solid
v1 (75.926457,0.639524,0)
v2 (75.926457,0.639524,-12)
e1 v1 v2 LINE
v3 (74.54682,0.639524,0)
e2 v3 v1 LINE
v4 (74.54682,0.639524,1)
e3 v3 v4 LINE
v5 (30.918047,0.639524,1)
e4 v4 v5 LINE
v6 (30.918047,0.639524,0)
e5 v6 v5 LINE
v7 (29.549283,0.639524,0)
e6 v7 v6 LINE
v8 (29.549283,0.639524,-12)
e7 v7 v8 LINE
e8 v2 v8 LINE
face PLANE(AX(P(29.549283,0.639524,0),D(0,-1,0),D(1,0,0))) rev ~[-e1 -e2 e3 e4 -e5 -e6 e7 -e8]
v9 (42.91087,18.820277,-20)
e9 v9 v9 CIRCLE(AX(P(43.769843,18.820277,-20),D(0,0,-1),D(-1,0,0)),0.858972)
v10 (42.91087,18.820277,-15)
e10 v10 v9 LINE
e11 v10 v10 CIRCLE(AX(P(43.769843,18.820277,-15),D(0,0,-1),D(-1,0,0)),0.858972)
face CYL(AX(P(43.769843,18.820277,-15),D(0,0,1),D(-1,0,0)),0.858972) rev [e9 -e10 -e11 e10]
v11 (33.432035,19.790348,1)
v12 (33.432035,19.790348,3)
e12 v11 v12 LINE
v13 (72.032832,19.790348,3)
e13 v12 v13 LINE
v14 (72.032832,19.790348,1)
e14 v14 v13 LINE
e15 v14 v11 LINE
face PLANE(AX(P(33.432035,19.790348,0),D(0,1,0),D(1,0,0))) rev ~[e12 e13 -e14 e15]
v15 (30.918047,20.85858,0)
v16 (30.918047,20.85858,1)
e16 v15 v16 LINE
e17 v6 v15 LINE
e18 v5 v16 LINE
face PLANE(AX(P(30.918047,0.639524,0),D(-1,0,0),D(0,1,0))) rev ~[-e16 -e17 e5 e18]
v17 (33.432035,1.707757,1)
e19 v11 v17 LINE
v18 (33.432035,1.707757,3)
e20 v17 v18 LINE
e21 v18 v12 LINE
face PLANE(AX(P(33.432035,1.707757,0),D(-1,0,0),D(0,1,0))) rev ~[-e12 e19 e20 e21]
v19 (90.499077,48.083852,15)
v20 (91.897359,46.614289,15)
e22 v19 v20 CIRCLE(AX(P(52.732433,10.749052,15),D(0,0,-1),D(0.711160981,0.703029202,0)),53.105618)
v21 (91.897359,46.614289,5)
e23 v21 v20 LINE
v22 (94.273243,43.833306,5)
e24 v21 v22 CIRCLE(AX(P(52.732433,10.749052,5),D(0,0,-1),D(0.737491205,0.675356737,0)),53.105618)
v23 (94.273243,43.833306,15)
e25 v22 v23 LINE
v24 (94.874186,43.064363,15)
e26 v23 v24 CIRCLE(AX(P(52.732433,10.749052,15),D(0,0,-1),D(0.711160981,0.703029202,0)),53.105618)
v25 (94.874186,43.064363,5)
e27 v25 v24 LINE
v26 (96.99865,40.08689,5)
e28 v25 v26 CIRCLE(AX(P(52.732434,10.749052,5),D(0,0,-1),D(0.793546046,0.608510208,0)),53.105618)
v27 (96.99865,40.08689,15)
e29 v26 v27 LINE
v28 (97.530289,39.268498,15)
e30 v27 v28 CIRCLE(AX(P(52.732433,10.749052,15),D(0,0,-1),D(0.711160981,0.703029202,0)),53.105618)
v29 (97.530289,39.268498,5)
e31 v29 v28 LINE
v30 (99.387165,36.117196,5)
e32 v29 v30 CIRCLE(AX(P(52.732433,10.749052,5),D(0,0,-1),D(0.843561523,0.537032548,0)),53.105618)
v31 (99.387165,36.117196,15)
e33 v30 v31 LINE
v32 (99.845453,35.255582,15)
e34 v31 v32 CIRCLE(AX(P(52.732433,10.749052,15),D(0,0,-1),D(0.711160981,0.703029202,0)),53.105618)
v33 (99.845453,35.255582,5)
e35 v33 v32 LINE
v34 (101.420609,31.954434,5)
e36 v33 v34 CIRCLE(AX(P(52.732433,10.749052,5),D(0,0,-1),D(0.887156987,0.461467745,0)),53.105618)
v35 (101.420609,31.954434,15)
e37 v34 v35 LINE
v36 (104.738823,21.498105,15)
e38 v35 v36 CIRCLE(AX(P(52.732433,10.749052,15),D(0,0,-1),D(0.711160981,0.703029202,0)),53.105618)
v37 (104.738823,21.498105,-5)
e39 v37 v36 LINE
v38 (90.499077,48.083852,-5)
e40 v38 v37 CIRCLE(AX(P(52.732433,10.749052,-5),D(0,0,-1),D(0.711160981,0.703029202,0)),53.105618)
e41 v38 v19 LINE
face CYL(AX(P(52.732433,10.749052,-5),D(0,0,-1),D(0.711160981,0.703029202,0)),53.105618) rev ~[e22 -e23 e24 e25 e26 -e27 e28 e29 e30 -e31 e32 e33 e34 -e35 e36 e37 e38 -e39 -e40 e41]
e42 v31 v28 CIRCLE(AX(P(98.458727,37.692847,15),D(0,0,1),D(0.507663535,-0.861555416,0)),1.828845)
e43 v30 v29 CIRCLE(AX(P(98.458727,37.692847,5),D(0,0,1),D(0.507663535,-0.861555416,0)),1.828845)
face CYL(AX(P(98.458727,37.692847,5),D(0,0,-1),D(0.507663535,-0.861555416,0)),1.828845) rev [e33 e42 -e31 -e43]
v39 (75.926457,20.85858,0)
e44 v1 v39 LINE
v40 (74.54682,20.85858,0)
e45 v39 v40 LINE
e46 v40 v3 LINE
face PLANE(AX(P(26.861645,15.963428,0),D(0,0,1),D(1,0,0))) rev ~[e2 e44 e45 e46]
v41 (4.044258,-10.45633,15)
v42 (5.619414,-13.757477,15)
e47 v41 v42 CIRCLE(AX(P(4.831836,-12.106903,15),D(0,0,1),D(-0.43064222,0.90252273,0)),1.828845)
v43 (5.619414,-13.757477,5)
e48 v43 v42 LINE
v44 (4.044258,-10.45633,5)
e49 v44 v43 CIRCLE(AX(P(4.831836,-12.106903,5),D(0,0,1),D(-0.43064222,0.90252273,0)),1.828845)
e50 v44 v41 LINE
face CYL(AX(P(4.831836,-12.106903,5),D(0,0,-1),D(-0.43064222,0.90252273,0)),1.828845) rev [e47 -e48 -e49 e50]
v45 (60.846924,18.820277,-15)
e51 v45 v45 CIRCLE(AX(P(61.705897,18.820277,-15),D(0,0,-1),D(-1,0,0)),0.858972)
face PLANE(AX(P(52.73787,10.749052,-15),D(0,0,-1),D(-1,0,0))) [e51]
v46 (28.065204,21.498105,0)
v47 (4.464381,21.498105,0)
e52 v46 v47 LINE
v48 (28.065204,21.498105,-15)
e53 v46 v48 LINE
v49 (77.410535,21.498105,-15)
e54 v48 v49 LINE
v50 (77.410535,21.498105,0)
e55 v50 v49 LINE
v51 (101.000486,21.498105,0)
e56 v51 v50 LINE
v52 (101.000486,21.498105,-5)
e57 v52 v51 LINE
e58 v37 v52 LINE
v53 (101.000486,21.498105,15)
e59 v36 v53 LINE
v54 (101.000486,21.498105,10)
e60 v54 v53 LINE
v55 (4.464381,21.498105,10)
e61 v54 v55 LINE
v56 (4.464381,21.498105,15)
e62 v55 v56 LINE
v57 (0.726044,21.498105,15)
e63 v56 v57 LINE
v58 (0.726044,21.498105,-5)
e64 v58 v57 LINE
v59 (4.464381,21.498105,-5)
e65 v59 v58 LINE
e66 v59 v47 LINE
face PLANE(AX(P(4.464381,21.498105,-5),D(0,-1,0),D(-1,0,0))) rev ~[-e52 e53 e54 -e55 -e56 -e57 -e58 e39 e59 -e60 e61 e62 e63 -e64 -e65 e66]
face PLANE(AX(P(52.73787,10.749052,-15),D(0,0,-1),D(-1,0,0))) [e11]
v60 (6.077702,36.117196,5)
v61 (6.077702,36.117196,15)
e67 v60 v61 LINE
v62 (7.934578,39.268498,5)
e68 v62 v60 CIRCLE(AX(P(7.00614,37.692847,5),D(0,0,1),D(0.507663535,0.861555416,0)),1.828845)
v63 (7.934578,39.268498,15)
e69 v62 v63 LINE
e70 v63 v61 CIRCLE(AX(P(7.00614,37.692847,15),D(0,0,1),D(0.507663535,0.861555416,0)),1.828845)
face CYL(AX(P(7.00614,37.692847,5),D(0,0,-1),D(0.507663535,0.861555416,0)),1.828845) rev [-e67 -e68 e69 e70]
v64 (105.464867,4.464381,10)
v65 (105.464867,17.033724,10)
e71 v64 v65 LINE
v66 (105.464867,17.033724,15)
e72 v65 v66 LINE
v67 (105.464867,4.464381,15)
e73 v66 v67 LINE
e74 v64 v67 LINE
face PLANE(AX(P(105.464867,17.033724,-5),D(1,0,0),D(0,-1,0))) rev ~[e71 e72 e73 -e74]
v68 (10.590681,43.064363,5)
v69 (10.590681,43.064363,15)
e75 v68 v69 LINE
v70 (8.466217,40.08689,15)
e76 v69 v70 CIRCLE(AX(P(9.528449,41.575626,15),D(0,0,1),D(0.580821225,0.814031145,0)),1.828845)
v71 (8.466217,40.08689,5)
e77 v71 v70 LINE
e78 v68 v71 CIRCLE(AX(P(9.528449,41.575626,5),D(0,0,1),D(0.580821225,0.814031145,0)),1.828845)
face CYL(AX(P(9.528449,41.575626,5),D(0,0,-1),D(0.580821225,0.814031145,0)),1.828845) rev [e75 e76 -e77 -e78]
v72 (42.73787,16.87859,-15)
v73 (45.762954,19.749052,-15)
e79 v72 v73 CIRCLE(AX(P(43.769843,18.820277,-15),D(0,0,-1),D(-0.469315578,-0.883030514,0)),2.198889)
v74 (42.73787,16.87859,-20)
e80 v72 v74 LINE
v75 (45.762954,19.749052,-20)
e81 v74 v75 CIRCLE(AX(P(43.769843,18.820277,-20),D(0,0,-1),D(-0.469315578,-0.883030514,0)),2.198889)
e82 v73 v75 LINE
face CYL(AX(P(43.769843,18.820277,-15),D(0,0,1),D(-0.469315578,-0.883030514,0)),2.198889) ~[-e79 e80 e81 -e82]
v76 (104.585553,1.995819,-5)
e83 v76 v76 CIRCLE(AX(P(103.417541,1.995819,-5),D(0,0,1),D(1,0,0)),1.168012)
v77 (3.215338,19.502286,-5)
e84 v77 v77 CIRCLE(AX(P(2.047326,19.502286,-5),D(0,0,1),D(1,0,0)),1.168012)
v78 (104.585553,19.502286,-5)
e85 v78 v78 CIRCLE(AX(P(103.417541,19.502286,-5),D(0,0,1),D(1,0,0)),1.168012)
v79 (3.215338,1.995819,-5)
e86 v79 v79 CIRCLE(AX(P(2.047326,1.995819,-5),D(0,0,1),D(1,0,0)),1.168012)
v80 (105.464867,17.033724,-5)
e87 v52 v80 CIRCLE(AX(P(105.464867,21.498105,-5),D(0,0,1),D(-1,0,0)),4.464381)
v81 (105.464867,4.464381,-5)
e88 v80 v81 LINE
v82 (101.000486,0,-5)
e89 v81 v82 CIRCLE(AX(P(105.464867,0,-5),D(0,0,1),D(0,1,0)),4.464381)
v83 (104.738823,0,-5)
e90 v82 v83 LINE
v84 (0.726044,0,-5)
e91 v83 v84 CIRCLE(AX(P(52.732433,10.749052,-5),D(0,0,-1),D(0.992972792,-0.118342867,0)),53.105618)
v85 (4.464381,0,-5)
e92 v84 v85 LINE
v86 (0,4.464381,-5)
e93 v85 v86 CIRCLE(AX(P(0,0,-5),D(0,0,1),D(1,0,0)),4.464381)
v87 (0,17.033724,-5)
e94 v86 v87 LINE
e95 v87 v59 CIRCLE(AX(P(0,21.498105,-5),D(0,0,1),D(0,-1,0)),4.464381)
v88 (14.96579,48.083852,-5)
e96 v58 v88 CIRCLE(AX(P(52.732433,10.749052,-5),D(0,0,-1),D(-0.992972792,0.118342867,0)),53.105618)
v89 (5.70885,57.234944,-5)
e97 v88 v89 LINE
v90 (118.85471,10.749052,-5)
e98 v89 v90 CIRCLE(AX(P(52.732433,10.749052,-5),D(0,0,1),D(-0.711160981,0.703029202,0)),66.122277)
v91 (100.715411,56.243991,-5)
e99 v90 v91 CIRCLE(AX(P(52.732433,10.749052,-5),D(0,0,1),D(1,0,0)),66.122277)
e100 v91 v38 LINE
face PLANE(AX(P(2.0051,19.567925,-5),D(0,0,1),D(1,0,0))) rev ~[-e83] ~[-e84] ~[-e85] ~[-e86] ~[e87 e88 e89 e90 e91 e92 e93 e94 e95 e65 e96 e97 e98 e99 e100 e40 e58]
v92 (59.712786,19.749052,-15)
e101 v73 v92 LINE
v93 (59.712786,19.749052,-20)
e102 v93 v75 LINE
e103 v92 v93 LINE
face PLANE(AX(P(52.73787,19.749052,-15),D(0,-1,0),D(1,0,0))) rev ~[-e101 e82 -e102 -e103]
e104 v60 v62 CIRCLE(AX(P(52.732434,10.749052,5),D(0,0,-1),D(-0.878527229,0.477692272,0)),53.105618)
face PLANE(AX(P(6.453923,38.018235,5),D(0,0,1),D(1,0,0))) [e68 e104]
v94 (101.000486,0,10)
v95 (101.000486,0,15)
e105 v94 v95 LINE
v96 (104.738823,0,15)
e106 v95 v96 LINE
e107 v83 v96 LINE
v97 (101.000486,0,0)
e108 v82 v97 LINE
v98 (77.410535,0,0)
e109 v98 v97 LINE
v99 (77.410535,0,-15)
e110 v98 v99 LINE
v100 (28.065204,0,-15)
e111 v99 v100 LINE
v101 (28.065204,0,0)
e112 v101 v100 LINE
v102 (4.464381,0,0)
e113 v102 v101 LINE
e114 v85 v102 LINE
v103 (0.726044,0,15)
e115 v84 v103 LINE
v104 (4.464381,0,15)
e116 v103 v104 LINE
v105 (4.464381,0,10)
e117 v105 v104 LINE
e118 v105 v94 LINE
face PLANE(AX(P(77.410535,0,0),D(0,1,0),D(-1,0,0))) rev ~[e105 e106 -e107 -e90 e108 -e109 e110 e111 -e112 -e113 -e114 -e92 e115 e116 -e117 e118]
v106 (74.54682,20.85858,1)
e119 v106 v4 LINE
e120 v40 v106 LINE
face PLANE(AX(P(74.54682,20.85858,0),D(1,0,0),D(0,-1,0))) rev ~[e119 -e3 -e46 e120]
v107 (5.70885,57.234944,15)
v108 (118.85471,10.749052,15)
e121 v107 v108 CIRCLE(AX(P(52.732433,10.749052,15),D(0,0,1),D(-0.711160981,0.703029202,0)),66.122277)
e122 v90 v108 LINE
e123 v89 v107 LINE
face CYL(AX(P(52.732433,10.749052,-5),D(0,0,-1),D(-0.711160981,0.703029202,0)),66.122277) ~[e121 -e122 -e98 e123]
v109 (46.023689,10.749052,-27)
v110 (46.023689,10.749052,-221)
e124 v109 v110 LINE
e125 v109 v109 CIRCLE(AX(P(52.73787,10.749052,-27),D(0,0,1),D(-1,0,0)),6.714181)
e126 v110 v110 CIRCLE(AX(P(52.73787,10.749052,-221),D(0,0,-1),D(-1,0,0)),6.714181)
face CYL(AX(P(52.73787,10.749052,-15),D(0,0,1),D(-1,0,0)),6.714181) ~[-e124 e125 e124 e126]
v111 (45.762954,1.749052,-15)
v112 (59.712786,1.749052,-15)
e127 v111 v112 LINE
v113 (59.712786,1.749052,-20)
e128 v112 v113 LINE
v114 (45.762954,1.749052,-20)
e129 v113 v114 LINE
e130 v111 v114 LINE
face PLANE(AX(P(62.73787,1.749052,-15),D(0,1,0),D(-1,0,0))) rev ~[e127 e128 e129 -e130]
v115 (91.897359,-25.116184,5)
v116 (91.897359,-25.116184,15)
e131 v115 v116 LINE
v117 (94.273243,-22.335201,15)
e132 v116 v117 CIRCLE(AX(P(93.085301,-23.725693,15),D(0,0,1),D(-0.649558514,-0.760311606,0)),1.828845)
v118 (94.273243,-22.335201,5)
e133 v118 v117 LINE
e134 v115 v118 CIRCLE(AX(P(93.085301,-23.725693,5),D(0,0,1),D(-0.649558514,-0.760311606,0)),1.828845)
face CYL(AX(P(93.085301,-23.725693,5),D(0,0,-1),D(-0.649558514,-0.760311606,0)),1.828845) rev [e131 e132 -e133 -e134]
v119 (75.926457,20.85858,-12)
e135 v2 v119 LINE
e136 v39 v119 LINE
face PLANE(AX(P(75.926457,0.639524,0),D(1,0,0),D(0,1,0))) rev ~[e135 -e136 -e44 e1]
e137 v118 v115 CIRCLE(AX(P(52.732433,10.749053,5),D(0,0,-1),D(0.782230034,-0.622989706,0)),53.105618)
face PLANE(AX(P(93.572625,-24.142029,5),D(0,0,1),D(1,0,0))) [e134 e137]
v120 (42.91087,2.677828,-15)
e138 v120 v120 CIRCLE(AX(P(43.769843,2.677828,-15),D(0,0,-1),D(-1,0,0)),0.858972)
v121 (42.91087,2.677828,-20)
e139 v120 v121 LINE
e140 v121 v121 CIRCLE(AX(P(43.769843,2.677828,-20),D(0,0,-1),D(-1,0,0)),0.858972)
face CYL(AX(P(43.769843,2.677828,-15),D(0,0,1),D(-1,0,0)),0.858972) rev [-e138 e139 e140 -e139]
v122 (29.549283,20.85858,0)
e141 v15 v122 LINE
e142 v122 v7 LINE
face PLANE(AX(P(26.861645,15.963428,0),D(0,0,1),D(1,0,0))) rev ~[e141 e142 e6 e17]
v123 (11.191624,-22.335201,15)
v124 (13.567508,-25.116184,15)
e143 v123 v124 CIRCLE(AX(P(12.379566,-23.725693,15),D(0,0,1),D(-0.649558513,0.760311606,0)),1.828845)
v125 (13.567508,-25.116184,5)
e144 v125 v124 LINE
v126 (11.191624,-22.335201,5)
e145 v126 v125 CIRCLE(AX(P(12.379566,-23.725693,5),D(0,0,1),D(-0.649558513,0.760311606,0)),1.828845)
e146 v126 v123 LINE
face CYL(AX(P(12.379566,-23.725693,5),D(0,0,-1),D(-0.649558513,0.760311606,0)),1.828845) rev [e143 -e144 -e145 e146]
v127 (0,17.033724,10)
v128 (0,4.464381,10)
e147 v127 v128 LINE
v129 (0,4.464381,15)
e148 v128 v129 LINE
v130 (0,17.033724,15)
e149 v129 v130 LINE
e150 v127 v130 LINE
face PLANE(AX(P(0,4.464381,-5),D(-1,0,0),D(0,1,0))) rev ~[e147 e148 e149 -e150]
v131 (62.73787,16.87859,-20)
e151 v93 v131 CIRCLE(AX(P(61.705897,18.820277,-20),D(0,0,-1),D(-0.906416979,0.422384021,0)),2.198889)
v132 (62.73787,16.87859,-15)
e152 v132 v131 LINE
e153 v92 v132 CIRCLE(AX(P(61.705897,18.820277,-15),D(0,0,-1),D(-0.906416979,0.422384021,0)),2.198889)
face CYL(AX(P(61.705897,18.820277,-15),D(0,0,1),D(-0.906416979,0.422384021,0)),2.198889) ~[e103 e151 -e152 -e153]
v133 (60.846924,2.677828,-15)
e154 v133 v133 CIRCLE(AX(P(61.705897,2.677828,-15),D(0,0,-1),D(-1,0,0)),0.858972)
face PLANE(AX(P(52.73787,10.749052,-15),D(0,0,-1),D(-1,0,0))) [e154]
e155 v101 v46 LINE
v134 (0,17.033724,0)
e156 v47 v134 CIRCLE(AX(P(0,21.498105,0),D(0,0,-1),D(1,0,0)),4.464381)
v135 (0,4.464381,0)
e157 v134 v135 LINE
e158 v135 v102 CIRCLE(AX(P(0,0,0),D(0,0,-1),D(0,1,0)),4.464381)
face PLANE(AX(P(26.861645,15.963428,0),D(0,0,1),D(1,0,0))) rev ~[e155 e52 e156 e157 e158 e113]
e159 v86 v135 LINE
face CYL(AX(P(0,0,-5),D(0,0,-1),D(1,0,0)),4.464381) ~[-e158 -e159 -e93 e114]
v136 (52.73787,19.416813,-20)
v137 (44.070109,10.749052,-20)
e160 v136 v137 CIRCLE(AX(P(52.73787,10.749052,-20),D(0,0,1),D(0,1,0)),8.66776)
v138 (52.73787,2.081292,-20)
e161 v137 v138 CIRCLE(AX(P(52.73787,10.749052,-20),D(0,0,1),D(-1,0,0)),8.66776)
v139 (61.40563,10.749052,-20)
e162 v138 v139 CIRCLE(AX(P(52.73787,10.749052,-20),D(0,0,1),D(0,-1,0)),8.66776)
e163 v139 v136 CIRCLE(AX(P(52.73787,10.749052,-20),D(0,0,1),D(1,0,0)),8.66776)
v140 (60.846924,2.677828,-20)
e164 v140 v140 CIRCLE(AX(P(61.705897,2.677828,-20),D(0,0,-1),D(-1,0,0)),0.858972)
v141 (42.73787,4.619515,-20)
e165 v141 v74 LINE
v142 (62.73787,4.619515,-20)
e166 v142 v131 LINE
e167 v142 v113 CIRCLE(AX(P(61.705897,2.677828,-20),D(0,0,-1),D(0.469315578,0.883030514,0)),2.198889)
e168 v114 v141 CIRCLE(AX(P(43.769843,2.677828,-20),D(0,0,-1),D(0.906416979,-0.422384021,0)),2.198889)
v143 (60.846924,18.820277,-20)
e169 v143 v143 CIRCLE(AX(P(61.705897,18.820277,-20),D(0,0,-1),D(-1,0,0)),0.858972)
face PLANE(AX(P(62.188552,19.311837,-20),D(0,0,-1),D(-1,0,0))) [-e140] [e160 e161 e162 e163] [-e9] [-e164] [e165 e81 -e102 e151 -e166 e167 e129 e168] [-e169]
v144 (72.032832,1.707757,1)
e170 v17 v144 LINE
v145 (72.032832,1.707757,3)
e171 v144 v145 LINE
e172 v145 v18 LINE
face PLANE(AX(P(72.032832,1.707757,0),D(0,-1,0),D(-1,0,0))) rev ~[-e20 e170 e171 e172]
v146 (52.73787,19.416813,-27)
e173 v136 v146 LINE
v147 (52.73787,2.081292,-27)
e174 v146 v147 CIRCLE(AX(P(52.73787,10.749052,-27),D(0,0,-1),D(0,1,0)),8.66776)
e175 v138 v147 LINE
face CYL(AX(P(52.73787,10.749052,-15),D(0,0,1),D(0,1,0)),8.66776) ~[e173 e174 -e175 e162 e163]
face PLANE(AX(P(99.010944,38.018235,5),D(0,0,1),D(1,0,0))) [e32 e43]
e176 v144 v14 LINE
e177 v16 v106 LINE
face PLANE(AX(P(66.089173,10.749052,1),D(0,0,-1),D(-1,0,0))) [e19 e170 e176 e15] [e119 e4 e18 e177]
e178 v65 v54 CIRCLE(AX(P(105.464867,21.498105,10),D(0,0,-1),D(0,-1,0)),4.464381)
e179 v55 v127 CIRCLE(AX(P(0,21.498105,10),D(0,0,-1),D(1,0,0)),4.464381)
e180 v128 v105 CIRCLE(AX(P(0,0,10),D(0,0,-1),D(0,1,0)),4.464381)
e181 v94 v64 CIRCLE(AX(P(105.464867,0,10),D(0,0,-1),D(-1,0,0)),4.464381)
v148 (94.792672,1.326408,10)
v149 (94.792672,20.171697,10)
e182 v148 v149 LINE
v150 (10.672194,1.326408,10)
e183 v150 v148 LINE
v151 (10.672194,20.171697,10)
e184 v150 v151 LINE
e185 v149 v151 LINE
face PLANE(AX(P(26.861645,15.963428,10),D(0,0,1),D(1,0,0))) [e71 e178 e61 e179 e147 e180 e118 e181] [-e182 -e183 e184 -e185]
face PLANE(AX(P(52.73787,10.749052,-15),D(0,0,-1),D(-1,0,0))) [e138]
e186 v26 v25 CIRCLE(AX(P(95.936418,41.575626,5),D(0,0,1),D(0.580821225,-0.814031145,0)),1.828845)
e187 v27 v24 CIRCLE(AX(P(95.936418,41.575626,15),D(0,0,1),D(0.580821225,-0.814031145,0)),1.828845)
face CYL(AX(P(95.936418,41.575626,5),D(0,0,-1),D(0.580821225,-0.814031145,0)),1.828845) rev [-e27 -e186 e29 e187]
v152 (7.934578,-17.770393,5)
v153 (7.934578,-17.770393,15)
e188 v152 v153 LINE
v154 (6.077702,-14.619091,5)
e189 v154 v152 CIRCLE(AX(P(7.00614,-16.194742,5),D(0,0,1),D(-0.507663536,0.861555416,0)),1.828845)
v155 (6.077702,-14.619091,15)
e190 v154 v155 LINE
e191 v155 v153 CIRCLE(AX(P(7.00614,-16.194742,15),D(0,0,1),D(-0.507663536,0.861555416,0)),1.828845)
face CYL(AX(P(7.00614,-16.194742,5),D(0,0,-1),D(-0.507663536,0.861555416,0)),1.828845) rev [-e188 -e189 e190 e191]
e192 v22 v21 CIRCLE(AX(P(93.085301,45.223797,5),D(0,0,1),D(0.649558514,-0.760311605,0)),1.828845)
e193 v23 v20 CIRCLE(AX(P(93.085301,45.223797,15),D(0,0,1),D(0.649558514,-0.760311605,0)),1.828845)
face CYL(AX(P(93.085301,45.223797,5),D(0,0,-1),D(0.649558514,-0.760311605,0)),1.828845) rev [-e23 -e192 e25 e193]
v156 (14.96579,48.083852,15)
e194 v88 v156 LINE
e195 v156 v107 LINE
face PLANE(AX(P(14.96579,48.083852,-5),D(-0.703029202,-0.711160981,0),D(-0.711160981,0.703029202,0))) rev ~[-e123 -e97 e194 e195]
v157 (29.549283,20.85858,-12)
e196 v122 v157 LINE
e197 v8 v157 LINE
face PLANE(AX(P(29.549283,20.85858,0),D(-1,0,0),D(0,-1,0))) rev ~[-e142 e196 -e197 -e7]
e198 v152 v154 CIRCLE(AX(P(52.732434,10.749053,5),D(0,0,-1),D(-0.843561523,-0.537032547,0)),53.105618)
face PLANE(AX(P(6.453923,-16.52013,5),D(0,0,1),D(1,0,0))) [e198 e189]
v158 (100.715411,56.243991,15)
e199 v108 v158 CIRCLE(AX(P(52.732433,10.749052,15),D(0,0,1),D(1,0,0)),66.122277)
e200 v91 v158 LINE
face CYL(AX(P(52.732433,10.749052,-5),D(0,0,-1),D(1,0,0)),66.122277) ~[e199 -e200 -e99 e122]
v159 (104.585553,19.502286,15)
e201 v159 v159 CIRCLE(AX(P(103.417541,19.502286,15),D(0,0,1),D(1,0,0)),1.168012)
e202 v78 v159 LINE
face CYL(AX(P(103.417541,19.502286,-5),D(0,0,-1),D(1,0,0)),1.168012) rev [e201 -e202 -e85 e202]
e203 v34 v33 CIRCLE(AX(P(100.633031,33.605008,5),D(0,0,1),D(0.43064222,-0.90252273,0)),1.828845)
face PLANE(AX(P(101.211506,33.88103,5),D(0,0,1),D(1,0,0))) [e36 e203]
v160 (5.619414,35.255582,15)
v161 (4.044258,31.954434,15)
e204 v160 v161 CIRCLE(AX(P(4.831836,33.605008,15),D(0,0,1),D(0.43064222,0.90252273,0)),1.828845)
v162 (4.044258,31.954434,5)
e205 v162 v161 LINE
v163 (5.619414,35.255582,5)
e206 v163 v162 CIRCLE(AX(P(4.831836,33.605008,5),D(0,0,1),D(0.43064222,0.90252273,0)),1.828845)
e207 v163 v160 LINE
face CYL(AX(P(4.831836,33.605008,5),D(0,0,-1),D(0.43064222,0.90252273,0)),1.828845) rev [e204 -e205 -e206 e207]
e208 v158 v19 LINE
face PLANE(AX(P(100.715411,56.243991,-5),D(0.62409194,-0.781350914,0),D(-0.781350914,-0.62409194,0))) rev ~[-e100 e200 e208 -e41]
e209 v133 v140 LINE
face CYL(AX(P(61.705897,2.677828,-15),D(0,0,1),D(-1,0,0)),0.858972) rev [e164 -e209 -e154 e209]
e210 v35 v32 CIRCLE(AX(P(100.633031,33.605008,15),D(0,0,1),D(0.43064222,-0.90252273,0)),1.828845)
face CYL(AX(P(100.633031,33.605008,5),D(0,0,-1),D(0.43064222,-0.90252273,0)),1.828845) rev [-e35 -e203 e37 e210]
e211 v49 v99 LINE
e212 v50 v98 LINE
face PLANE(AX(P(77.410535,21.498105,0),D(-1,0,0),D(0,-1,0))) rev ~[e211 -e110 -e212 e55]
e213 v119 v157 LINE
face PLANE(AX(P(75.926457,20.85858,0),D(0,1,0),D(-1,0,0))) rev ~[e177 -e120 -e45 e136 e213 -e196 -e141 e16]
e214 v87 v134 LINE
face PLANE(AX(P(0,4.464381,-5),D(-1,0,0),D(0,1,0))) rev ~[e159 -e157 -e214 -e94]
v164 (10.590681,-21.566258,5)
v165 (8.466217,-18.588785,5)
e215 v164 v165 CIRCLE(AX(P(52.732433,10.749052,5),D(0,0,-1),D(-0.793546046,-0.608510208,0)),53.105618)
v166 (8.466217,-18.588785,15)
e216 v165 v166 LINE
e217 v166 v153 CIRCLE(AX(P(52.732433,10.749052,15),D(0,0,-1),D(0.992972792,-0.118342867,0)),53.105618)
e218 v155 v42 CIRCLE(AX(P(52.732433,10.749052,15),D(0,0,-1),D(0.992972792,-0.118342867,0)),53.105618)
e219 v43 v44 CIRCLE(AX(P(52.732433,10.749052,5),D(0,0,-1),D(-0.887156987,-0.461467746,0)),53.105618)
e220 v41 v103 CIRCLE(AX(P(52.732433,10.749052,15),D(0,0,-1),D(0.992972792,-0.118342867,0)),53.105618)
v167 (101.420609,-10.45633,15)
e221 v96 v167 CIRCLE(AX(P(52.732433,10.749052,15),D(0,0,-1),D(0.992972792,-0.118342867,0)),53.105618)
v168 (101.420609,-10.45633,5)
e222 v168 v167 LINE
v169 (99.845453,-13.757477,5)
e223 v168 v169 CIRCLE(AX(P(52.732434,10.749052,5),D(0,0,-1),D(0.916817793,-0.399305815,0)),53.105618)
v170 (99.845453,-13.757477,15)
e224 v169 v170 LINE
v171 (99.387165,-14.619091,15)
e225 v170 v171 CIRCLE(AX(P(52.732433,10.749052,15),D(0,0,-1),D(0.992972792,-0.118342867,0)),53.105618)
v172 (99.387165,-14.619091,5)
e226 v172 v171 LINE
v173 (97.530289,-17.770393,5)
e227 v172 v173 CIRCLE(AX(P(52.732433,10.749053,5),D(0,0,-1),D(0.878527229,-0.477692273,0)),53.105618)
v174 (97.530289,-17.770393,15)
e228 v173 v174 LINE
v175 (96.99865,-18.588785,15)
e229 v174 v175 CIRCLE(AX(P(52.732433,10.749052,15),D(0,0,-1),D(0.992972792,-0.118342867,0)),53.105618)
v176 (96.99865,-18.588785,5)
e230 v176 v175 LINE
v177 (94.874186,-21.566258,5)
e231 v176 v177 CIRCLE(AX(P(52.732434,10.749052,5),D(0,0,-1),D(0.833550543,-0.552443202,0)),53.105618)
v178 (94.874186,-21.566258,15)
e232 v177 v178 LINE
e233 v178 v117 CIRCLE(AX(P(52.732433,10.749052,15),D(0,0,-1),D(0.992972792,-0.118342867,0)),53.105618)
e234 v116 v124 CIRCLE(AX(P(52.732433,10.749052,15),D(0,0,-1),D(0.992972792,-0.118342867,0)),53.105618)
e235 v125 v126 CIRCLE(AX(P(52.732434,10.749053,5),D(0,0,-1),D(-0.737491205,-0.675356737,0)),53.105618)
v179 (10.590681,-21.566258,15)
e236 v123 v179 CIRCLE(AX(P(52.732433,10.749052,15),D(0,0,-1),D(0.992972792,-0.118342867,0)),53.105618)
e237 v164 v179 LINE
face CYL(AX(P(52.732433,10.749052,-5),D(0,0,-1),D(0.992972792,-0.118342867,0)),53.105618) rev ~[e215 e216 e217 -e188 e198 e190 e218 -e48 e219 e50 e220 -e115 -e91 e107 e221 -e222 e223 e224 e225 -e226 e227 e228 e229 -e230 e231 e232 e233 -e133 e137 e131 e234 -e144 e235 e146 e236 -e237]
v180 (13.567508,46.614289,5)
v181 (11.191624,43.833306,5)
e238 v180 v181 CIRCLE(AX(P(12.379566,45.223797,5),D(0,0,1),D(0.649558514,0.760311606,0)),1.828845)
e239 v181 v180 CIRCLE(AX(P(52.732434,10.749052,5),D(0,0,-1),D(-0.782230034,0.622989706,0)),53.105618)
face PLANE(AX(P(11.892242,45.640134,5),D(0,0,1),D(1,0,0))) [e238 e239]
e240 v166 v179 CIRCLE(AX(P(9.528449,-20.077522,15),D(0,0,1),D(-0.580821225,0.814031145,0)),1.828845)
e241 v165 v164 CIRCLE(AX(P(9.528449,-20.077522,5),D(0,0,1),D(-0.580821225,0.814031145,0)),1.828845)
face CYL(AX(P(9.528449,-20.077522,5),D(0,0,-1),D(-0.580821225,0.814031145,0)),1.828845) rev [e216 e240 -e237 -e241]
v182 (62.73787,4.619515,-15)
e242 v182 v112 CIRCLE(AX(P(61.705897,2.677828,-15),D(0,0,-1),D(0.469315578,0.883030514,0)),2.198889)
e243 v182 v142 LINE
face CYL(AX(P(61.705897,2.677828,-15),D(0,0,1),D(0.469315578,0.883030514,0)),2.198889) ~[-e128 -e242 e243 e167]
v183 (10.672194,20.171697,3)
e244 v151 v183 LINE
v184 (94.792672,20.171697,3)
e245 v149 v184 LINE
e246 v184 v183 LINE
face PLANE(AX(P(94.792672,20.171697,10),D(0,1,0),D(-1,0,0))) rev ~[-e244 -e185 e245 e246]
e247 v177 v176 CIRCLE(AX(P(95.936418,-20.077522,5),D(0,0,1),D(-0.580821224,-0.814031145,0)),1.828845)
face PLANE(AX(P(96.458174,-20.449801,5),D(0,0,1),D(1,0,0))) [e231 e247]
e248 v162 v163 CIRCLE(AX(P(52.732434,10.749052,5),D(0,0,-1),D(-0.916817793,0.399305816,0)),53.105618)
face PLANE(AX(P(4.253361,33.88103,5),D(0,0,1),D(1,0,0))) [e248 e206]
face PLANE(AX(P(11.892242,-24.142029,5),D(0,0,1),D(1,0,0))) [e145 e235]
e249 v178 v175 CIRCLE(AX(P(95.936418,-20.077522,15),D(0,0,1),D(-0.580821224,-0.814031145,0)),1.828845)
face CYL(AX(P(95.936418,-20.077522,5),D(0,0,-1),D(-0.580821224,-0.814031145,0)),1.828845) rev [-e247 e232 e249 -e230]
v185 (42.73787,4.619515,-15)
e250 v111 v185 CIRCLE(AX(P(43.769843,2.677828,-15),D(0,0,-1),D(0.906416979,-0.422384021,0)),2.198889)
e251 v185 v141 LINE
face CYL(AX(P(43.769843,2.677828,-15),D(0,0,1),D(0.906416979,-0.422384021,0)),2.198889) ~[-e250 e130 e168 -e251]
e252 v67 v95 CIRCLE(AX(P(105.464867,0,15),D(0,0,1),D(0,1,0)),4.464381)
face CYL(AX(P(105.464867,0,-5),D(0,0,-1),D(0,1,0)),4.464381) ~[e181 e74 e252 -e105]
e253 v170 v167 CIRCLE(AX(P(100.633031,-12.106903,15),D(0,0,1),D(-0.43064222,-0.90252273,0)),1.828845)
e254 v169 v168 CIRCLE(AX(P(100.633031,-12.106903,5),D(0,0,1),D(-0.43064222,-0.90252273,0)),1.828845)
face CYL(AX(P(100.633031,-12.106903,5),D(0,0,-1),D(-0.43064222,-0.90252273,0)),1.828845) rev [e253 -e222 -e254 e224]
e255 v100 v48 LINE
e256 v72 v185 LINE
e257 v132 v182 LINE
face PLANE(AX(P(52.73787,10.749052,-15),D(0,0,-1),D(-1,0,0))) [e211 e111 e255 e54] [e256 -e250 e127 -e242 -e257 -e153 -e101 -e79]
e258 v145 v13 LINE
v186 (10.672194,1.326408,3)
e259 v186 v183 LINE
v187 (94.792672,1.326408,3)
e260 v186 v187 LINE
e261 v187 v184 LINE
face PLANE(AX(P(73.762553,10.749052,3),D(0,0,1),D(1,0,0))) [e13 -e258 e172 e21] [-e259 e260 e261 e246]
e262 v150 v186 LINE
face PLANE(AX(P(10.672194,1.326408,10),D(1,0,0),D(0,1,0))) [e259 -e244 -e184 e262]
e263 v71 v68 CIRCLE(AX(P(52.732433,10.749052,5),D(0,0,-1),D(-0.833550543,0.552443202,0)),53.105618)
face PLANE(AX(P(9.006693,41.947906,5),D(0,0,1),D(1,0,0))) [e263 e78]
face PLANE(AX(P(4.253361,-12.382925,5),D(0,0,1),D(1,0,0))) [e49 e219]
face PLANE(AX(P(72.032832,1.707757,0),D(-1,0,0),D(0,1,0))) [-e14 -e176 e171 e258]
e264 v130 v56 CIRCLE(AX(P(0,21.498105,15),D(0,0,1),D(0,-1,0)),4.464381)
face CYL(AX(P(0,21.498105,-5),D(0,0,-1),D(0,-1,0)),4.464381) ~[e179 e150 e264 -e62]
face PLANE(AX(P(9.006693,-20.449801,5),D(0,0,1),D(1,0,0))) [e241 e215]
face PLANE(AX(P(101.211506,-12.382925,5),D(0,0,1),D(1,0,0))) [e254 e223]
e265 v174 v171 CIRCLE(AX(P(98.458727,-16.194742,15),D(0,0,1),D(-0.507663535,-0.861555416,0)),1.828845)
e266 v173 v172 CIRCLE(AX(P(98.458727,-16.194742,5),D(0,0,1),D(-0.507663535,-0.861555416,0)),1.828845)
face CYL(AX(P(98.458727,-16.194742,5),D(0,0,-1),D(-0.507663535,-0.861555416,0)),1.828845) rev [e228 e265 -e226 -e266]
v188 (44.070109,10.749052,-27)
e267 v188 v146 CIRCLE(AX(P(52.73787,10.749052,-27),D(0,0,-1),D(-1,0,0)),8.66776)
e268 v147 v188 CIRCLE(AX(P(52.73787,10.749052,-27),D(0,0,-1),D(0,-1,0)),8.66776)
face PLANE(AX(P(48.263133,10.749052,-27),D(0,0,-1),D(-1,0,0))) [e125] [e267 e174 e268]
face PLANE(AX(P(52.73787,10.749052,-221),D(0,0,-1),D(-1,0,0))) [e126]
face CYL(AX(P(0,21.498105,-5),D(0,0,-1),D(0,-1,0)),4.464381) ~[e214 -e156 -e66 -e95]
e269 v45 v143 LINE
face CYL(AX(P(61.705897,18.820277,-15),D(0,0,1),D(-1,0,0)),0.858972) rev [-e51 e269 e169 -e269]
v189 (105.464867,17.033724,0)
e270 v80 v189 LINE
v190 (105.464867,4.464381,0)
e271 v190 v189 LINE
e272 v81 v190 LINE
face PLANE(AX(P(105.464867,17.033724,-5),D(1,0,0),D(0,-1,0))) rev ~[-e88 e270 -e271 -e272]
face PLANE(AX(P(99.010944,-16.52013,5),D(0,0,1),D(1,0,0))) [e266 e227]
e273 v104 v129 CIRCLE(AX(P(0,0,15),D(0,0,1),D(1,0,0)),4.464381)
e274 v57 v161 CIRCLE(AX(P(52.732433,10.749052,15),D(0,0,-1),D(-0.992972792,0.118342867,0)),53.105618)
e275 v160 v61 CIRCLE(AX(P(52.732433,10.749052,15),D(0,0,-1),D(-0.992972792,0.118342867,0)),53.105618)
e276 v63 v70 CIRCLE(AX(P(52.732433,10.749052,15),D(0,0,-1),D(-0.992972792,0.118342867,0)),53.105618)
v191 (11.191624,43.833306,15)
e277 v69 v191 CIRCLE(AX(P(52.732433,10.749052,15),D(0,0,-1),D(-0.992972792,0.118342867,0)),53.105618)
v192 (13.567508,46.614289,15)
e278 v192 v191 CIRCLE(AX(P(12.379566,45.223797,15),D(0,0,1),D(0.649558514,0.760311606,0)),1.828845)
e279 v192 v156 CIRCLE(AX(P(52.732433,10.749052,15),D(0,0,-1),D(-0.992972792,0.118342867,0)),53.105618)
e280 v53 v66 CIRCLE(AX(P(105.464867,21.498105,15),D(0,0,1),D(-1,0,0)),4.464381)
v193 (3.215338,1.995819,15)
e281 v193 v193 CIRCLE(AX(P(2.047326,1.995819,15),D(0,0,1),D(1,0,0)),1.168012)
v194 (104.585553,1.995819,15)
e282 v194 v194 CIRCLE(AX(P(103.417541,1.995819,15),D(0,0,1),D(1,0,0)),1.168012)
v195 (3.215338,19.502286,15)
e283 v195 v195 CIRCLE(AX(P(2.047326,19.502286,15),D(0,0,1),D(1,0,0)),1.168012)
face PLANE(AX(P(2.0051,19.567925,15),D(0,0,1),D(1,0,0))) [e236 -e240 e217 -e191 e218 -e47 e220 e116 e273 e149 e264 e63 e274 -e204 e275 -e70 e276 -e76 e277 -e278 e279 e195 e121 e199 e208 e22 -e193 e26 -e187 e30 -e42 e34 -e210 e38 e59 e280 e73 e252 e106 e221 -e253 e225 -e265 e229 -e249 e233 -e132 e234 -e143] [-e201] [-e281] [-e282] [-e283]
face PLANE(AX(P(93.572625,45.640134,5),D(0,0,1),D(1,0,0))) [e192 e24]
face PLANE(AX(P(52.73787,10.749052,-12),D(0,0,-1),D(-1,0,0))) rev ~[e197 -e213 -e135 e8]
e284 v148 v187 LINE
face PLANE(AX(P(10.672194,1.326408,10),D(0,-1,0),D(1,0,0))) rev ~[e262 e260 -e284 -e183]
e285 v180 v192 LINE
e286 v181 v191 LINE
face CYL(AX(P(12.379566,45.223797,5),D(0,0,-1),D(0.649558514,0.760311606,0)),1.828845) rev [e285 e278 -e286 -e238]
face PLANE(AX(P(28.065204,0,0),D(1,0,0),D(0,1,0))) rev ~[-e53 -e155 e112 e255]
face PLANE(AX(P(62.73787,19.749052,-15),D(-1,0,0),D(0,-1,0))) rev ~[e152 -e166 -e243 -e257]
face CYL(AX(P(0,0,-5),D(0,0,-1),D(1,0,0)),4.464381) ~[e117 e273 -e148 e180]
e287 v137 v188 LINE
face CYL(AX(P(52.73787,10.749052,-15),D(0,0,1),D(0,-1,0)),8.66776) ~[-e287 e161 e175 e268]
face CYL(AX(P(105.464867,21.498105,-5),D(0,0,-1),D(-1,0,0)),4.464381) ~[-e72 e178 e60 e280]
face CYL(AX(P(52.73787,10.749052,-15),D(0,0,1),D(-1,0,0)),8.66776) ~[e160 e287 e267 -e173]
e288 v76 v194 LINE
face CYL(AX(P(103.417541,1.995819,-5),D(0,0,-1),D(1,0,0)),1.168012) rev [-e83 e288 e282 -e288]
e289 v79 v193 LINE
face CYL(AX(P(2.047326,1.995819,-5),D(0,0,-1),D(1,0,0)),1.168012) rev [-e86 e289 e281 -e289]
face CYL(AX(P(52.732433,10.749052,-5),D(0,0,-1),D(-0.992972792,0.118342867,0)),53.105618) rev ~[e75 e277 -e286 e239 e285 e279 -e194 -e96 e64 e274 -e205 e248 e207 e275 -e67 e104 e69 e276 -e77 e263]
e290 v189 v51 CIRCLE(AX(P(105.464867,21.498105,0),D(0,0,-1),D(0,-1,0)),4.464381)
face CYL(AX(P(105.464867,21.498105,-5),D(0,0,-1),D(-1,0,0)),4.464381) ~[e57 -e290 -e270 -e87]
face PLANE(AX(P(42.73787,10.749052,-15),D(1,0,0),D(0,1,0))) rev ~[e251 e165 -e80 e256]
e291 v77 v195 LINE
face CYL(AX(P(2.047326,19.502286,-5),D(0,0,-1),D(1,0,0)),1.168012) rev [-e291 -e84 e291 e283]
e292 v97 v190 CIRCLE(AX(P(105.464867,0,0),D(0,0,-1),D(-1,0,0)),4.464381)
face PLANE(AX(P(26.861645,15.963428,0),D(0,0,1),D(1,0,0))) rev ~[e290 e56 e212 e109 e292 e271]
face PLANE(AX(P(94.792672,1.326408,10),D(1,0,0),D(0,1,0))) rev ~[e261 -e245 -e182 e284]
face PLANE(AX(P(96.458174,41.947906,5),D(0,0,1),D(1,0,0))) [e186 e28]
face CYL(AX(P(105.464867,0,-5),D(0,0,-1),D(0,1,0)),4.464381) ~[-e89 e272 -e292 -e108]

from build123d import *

# Parameters (mm, degrees)
BOSS_EXTRUDE1_DEPTH      = 10
BOSS_EXTRUDE2_DEPTH      = 15
BOSS_EXTRUDE2_DEPTH_BACK = 5
CUT_EXTRUDE1_START       = -10
CUT_EXTRUDE1_DEPTH       = 10
SKETCH6_W                = 42.060238999
SKETCH6_H                = 18.845288768
SKETCH6_W_2              = 42.060238998
CUT_EXTRUDE2_DEPTH       = 7
SKETCH7_W                = 19.300398124
SKETCH7_H                = 18.082590988
CUT_EXTRUDE3_DEPTH       = 3
CUT_EXTRUDE4_DEPTH       = 1
BOSS_EXTRUDE3_DEPTH      = 15
SKETCH10_W               = 46.377174408
SKETCH10_H               = 20.219056067
BOSS_EXTRUDE4_DEPTH      = 3
BOSS_EXTRUDE5_DEPTH      = 12
SKETCH12_R               = 0.858972398
BOSS_EXTRUDE6_DEPTH      = 5
BOSS_EXTRUDE7_START      = -15
SKETCH13_R               = 1.168011764
BOSS_EXTRUDE7_DEPTH      = 20
SKETCH14_R               = 6.714180922
BOSS_EXTRUDE8_DEPTH      = 206


with BuildPart() as part:
    # Sketch1 → Boss-Extrude1 (new body)
    with BuildSketch(Plane.XY):
        with BuildLine():
            Line((52.732433476, 10.749052425), (52.732433476, 21.49810485))
            Line((52.732433476, 21.49810485), (4.46438135, 21.49810485))
            ThreePointArc((4.46438135, 21.49810485), (3.156794326, 18.341310523), (0, 17.0337235))
            Line((0, 17.0337235), (0, 10.749052425))
            Line((0, 10.749052425), (52.732433476, 10.749052425))
        make_face()
        with BuildLine():
            Line((52.732433476, 0), (52.732433476, 10.749052425))
            Line((52.732433476, 10.749052425), (0, 10.749052425))
            Line((0, 10.749052425), (0, 4.46438135))
            ThreePointArc((0, 4.46438135), (3.156794326, 3.156794326), (4.46438135, 0))
            Line((4.46438135, 0), (52.732433476, 0))
        make_face()
        with BuildLine():
            Line((101.000485603, 21.49810485), (52.732433476, 21.49810485))
            Line((52.732433476, 21.49810485), (52.732433476, 10.749052425))
            Line((52.732433476, 10.749052425), (105.464866953, 10.749052425))
            Line((105.464866953, 10.749052425), (105.464866953, 17.0337235))
            ThreePointArc((105.464866953, 17.0337235), (102.308072626, 18.341310523), (101.000485603, 21.49810485))
        make_face()
        with BuildLine():
            Line((105.464866953, 10.749052425), (52.732433476, 10.749052425))
            Line((52.732433476, 10.749052425), (52.732433476, 0))
            Line((52.732433476, 0), (101.000485603, 0))
            ThreePointArc((101.000485603, 0), (102.308072626, 3.156794326), (105.464866953, 4.46438135))
            Line((105.464866953, 4.46438135), (105.464866953, 10.749052425))
        make_face()
    extrude(amount=BOSS_EXTRUDE1_DEPTH)

    # Sketch2 → Boss-Extrude2 (add, two sides: drawn at the far end of the back side and taken through both)
    with BuildSketch(Plane.XY.offset(-BOSS_EXTRUDE2_DEPTH_BACK)):
        with BuildLine():
            Line((0, 4.46438135), (0, 10.749052425))
            Line((0, 10.749052425), (0, 17.0337235))
            ThreePointArc((0, 17.0337235), (4.893658977, 33.806768818), (14.965790311, 48.083852477))
            Line((14.965790311, 48.083852477), (5.708850134, 57.234944066))
            ThreePointArc((5.708850134, 57.234944066), (27.604270889, -50.412462902), (118.854710449, 10.749052425))
            ThreePointArc((118.854710449, 10.749052425), (114.152703784, 35.237945978), (100.715410507, 56.243990905))
            Line((100.715410507, 56.243990905), (90.499076641, 48.083852477))
            ThreePointArc((90.499076641, 48.083852477), (100.571207976, 33.806768818), (105.464866953, 17.0337235))
            Line((105.464866953, 17.0337235), (105.464866953, 10.749052425))
            Line((105.464866953, 10.749052425), (105.464866953, 4.46438135))
            ThreePointArc((105.464866953, 4.46438135), (52.732433476, -42.356565271), (0, 4.46438135))
        make_face()
    extrude(amount=BOSS_EXTRUDE2_DEPTH + BOSS_EXTRUDE2_DEPTH_BACK)

    # Sketch5 → Cut-Extrude1 (cut)
    with BuildSketch(Plane.XY.offset(15).offset(CUT_EXTRUDE1_START)):
        with BuildLine():
            ThreePointArc((4.044258264, 31.954434414), (4.803406416, 33.618573536), (5.619413687, 35.25558211))
            ThreePointArc((5.619413687, 35.25558211), (3.181262127, 34.392585974), (4.044258264, 31.954434414))
        make_face()
        with BuildLine():
            ThreePointArc((6.077702287, 36.117195607), (6.979000933, 37.708838057), (7.934577748, 39.268497598))
            ThreePointArc((7.934577748, 39.268497598), (5.430489022, 38.621284333), (6.077702287, 36.117195607))
        make_face()
        with BuildLine():
            ThreePointArc((8.466216986, 40.086889913), (9.502806698, 41.59392233), (10.590680541, 43.064362889))
            ThreePointArc((10.590680541, 43.064362889), (8.039712275, 42.637858178), (8.466216986, 40.086889913))
        make_face()
        with BuildLine():
            ThreePointArc((11.191624321, 43.833305561), (12.355616026, 45.244258518), (13.567507519, 46.614289154))
            ThreePointArc((13.567507519, 46.614289154), (10.989074123, 46.411738956), (11.191624321, 43.833305561))
        make_face()
        with BuildLine():
            ThreePointArc((101.420608689, 31.954434414), (102.283604825, 34.392585974), (99.845453266, 35.25558211))
            ThreePointArc((99.845453266, 35.25558211), (100.661460537, 33.618573536), (101.420608689, 31.954434414))
        make_face()
        with BuildLine():
            ThreePointArc((99.387164666, 36.117195607), (100.034377931, 38.621284333), (97.530289205, 39.268497598))
            ThreePointArc((97.530289205, 39.268497598), (98.48586602, 37.708838057), (99.387164666, 36.117195607))
        make_face()
        with BuildLine():
            ThreePointArc((96.998649967, 40.086889913), (97.425154677, 42.637858178), (94.874186412, 43.064362889))
            ThreePointArc((94.874186412, 43.064362889), (95.962060255, 41.59392233), (96.998649967, 40.086889913))
        make_face()
        with BuildLine():
            ThreePointArc((94.273242632, 43.833305561), (94.475792829, 46.411738956), (91.897359434, 46.614289154))
            ThreePointArc((91.897359434, 46.614289154), (93.109250927, 45.244258518), (94.273242632, 43.833305561))
        make_face()
        with BuildLine():
            ThreePointArc((5.619413687, -13.75747726), (4.803406416, -12.120468687), (4.044258264, -10.456329564))
            ThreePointArc((4.044258264, -10.456329564), (3.181262127, -12.894481124), (5.619413687, -13.75747726))
        make_face()
        with BuildLine():
            ThreePointArc((7.934577748, -17.770392749), (6.979000933, -16.210733207), (6.077702287, -14.619090757))
            ThreePointArc((6.077702287, -14.619090757), (5.430489022, -17.123179483), (7.934577748, -17.770392749))
        make_face()
        with BuildLine():
            ThreePointArc((10.590680541, -21.566258039), (9.502806698, -20.09581748), (8.466216986, -18.588785063))
            ThreePointArc((8.466216986, -18.588785063), (8.039712275, -21.139753328), (10.590680541, -21.566258039))
        make_face()
        with BuildLine():
            ThreePointArc((13.567507519, -25.116184304), (12.355616026, -23.746153668), (11.191624321, -22.335200711))
            ThreePointArc((11.191624321, -22.335200711), (10.989074123, -24.913634107), (13.567507519, -25.116184304))
        make_face()
        with BuildLine():
            ThreePointArc((94.273242632, -22.335200711), (93.109250927, -23.746153668), (91.897359434, -25.116184304))
            ThreePointArc((91.897359434, -25.116184304), (94.475792829, -24.913634107), (94.273242632, -22.335200711))
        make_face()
        with BuildLine():
            ThreePointArc((94.874186412, -21.566258039), (97.425154677, -21.139753328), (96.998649967, -18.588785063))
            ThreePointArc((96.998649967, -18.588785063), (95.962060255, -20.09581748), (94.874186412, -21.566258039))
        make_face()
        with BuildLine():
            ThreePointArc((97.530289205, -17.770392749), (100.034377931, -17.123179483), (99.387164666, -14.619090757))
            ThreePointArc((99.387164666, -14.619090757), (98.48586602, -16.210733207), (97.530289205, -17.770392749))
        make_face()
        with BuildLine():
            ThreePointArc((99.845453266, -13.75747726), (102.283604825, -12.894481124), (101.420608689, -10.456329564))
            ThreePointArc((101.420608689, -10.456329564), (100.661460537, -12.120468687), (99.845453266, -13.75747726))
        make_face()
    extrude(amount=CUT_EXTRUDE1_DEPTH, mode=Mode.SUBTRACT)

    # Sketch6 → Cut-Extrude2 (cut)
    with BuildSketch(Plane.XY.offset(10)):
        with Locations((73.762552976, 10.749052425)):
            Rectangle(SKETCH6_W, SKETCH6_H)
        with Locations((31.702313977, 10.749052425)):
            Rectangle(SKETCH6_W_2, SKETCH6_H)
    extrude(amount=-CUT_EXTRUDE2_DEPTH, mode=Mode.SUBTRACT)

    # Sketch7 → Cut-Extrude3 (cut)
    with BuildSketch(Plane(origin=(0, 0, 0), x_dir=(-1, 0, 0), z_dir=(0, 0, -1))):
        with Locations((-62.382632538, 10.749052425)):
            Rectangle(SKETCH7_W, SKETCH7_H)
        with Locations((-43.082234414, 10.749052425)):
            Rectangle(SKETCH7_W, SKETCH7_H)
    extrude(amount=-CUT_EXTRUDE3_DEPTH, mode=Mode.SUBTRACT)

    # Sketch8 → Cut-Extrude4 (cut)
    with BuildSketch(Plane(origin=(0, 0, 0), x_dir=(-1, 0, 0), z_dir=(0, 0, -1))):
        Polygon((-52.732433476, 19.790347919), (-52.732433476, 20.858580458), (-74.546819617, 20.858580458), (-74.546819617, 0.639524391), (-52.732433476, 0.639524391), (-52.732433476, 1.707756931), (-72.0328316, 1.707756931), (-72.0328316, 19.790347919), align=None)
        Polygon((-30.918047336, 20.858580458), (-52.732433476, 20.858580458), (-52.732433476, 19.790347919), (-33.432035352, 19.790347919), (-33.432035352, 1.707756931), (-52.732433476, 1.707756931), (-52.732433476, 0.639524391), (-30.918047336, 0.639524391), align=None)
    extrude(amount=-CUT_EXTRUDE4_DEPTH, mode=Mode.SUBTRACT)

    # Sketch9 → Boss-Extrude3 (add)
    with BuildSketch(Plane(origin=(0, 0, 0), x_dir=(-1, 0, 0), z_dir=(0, 0, -1))):
        Polygon((-52.742982521, 20.858580458), (-52.743305955, 21.49810485), (-75.92645692, 21.49810485), (-75.92645692, 20.858580458), (-74.546819617, 20.858580458), align=None)
        Polygon((-29.549282512, 21.49810485), (-52.743305955, 21.49810485), (-52.742982521, 20.858580458), (-30.918047336, 20.858580458), (-29.549282512, 20.858580458), align=None)
        Polygon((-75.92645692, 20.858580458), (-75.92645692, 21.49810485), (-77.410535202, 21.49810485), (-77.410535202, 0), (-75.92645692, 0), (-75.92645692, 0.639524391), align=None)
        Polygon((-52.732433476, 0), (-52.73275691, 0.639524391), (-74.546819617, 0.639524391), (-75.92645692, 0.639524391), (-75.92645692, 0), align=None)
        Polygon((-30.918047336, 0.639524391), (-52.73275691, 0.639524391), (-52.732433476, 0), (-29.549282512, 0), (-29.549282512, 0.639524391), align=None)
        Polygon((-28.065204229, 21.49810485), (-29.549282512, 21.49810485), (-29.549282512, 20.858580458), (-29.549282512, 0.639524391), (-29.549282512, 0), (-28.065204229, 0), align=None)
    extrude(amount=BOSS_EXTRUDE3_DEPTH)

    # Sketch10 → Boss-Extrude4 (add)
    with BuildSketch(Plane(origin=(0, 0, -15), x_dir=(-1, 0, 0), z_dir=(0, 0, -1))):
        with Locations((-52.737869716, 10.749052425)):
            Rectangle(SKETCH10_W, SKETCH10_H)
    extrude(amount=-BOSS_EXTRUDE4_DEPTH)

    # Sketch11 → Boss-Extrude5 (add)
    with BuildSketch(Plane(origin=(0, 0, -15), x_dir=(-1, 0, 0), z_dir=(0, 0, -1))):
        with BuildLine():
            ThreePointArc((-44.070109377, 10.749052425), (-46.608837602, 16.878084538), (-52.737869716, 19.416812764))
            Line((-52.737869716, 19.416812764), (-52.737869716, 17.416812764))
            ThreePointArc((-52.737869716, 17.416812764), (-48.023051165, 15.463870976), (-46.070109377, 10.749052425))
            ThreePointArc((-46.070109377, 10.749052425), (-48.023051165, 6.034233874), (-52.737869716, 4.081292086))
            Line((-52.737869716, 4.081292086), (-52.737869716, 2.081292086))
            ThreePointArc((-52.737869716, 2.081292086), (-46.608837602, 4.620020311), (-44.070109377, 10.749052425))
        make_face()
        with BuildLine():
            Line((-52.737869716, 17.416812764), (-52.737869716, 19.416812764))
            ThreePointArc((-52.737869716, 19.416812764), (-61.405630055, 10.749052425), (-52.737869716, 2.081292086))
            Line((-52.737869716, 2.081292086), (-52.737869716, 4.081292086))
            ThreePointArc((-52.737869716, 4.081292086), (-59.405630055, 10.749052425), (-52.737869716, 17.416812764))
        make_face()
    extrude(amount=BOSS_EXTRUDE5_DEPTH)

    # Sketch12 → Boss-Extrude6 (add)
    # profile 1 of 7: a face of its own
    with BuildSketch(Plane(origin=(0, 0, -15), x_dir=(-1, 0, 0), z_dir=(0, 0, -1))):
        with BuildLine():
            Line((-62.737869716, 19.749052425), (-59.712785902, 19.749052425))
            ThreePointArc((-59.712785902, 19.749052425), (-63.219447031, 20.415356607), (-62.737869716, 16.87859017))
            Line((-62.737869716, 16.87859017), (-62.737869716, 19.749052425))
        make_face()
    # profile 2 of 7: a face of its own
    with BuildSketch(Plane(origin=(0, 0, -15), x_dir=(-1, 0, 0), z_dir=(0, 0, -1))):
        with BuildLine():
            Line((-52.737869716, 19.416812764), (-52.737869716, 19.749052425))
            Line((-52.737869716, 19.749052425), (-59.712785902, 19.749052425))
            Line((-59.712785902, 19.749052425), (-62.737869716, 19.749052425))
            Line((-62.737869716, 19.749052425), (-62.737869716, 16.87859017))
            Line((-62.737869716, 16.87859017), (-62.737869716, 10.749052425))
            Line((-62.737869716, 10.749052425), (-61.405630055, 10.749052425))
            ThreePointArc((-61.405630055, 10.749052425), (-58.866901829, 16.878084538), (-52.737869716, 19.416812764))
        make_face()
        with Locations((-61.705896639, 18.820276656)):
            Circle(SKETCH12_R, mode=Mode.SUBTRACT)
    # profile 3 of 7: a face of its own
    with BuildSketch(Plane(origin=(0, 0, -15), x_dir=(-1, 0, 0), z_dir=(0, 0, -1))):
        with BuildLine():
            Line((-45.76295353, 19.749052425), (-52.737869716, 19.749052425))
            Line((-52.737869716, 19.749052425), (-52.737869716, 19.416812764))
            ThreePointArc((-52.737869716, 19.416812764), (-46.608837602, 16.878084538), (-44.070109377, 10.749052425))
            Line((-44.070109377, 10.749052425), (-42.737869716, 10.749052425))
            Line((-42.737869716, 10.749052425), (-42.737869716, 16.87859017))
            ThreePointArc((-42.737869716, 16.87859017), (-42.256292401, 20.415356607), (-45.76295353, 19.749052425))
        make_face()
        with Locations((-43.769842793, 18.820276656)):
            Circle(SKETCH12_R, mode=Mode.SUBTRACT)
    # profile 4 of 7: a face of its own
    with BuildSketch(Plane(origin=(0, 0, -15), x_dir=(-1, 0, 0), z_dir=(0, 0, -1))):
        with BuildLine():
            Line((-42.737869716, 10.749052425), (-44.070109377, 10.749052425))
            ThreePointArc((-44.070109377, 10.749052425), (-46.608837602, 4.620020311), (-52.737869716, 2.081292086))
            Line((-52.737869716, 2.081292086), (-52.737869716, 1.749052425))
            Line((-52.737869716, 1.749052425), (-45.76295353, 1.749052425))
            Line((-45.76295353, 1.749052425), (-42.737869716, 1.749052425))
            Line((-42.737869716, 1.749052425), (-42.737869716, 4.61951468))
            Line((-42.737869716, 4.61951468), (-42.737869716, 10.749052425))
        make_face()
        with Locations((-43.769842793, 2.677828194)):
            Circle(SKETCH12_R, mode=Mode.SUBTRACT)
    # profile 5 of 7: a face of its own
    with BuildSketch(Plane(origin=(0, 0, -15), x_dir=(-1, 0, 0), z_dir=(0, 0, -1))):
        with BuildLine():
            ThreePointArc((-45.76295353, 1.749052425), (-42.256292401, 1.082748243), (-42.737869716, 4.61951468))
            Line((-42.737869716, 4.61951468), (-42.737869716, 1.749052425))
            Line((-42.737869716, 1.749052425), (-45.76295353, 1.749052425))
        make_face()
    # profile 6 of 7: a face of its own
    with BuildSketch(Plane(origin=(0, 0, -15), x_dir=(-1, 0, 0), z_dir=(0, 0, -1))):
        with BuildLine():
            ThreePointArc((-52.737869716, 2.081292086), (-58.866901829, 4.620020311), (-61.405630055, 10.749052425))
            Line((-61.405630055, 10.749052425), (-62.737869716, 10.749052425))
            Line((-62.737869716, 10.749052425), (-62.737869716, 4.61951468))
            Line((-62.737869716, 4.61951468), (-62.737869716, 1.749052425))
            Line((-62.737869716, 1.749052425), (-59.712785902, 1.749052425))
            Line((-59.712785902, 1.749052425), (-52.737869716, 1.749052425))
            Line((-52.737869716, 1.749052425), (-52.737869716, 2.081292086))
        make_face()
        with Locations((-61.705896639, 2.677828194)):
            Circle(SKETCH12_R, mode=Mode.SUBTRACT)
    # profile 7 of 7: a face of its own
    with BuildSketch(Plane(origin=(0, 0, -15), x_dir=(-1, 0, 0), z_dir=(0, 0, -1))):
        with BuildLine():
            Line((-62.737869716, 1.749052425), (-62.737869716, 4.61951468))
            ThreePointArc((-62.737869716, 4.61951468), (-63.219447031, 1.082748243), (-59.712785902, 1.749052425))
            Line((-59.712785902, 1.749052425), (-62.737869716, 1.749052425))
        make_face()
    extrude(amount=BOSS_EXTRUDE6_DEPTH)

    # Sketch13 → Boss-Extrude7 (add)
    # profile 1 of 4: a face of its own
    with BuildSketch(Plane.XY.offset(10).offset(BOSS_EXTRUDE7_START)):
        with BuildLine():
            ThreePointArc((0, 17.0337235), (3.156794326, 18.341310523), (4.46438135, 21.49810485))
            Line((4.46438135, 21.49810485), (0.726044419, 21.49810485))
            ThreePointArc((0.726044419, 21.49810485), (0.315471416, 19.273647382), (0, 17.0337235))
        make_face()
        with Locations((2.047326048, 19.502285627)):
            Circle(SKETCH13_R, mode=Mode.SUBTRACT)
    # profile 2 of 4: a face of its own
    with BuildSketch(Plane.XY.offset(10).offset(BOSS_EXTRUDE7_START)):
        with BuildLine():
            Line((0.726044419, 0), (4.46438135, 0))
            ThreePointArc((4.46438135, 0), (3.156794326, 3.156794326), (0, 4.46438135))
            ThreePointArc((0, 4.46438135), (0.315471416, 2.224457467), (0.726044419, 0))
        make_face()
        with Locations((2.047326048, 1.995819223)):
            Circle(SKETCH13_R, mode=Mode.SUBTRACT)
    # profile 3 of 4: a face of its own
    with BuildSketch(Plane.XY.offset(10).offset(BOSS_EXTRUDE7_START)):
        with BuildLine():
            Line((104.738822534, 21.49810485), (101.000485603, 21.49810485))
            ThreePointArc((101.000485603, 21.49810485), (102.308072626, 18.341310523), (105.464866953, 17.0337235))
            ThreePointArc((105.464866953, 17.0337235), (105.149395537, 19.273647382), (104.738822534, 21.49810485))
        make_face()
        with Locations((103.417540905, 19.502285627)):
            Circle(SKETCH13_R, mode=Mode.SUBTRACT)
    # profile 4 of 4: a face of its own
    with BuildSketch(Plane.XY.offset(10).offset(BOSS_EXTRUDE7_START)):
        with BuildLine():
            ThreePointArc((105.464866953, 4.46438135), (102.308072626, 3.156794326), (101.000485603, 0))
            Line((101.000485603, 0), (104.738822534, 0))
            ThreePointArc((104.738822534, 0), (105.149395537, 2.224457467), (105.464866953, 4.46438135))
        make_face()
        with Locations((103.417540905, 1.995819223)):
            Circle(SKETCH13_R, mode=Mode.SUBTRACT)
    extrude(amount=BOSS_EXTRUDE7_DEPTH)

    # Sketch14 → Boss-Extrude8 (add)
    with BuildSketch(Plane(origin=(0, 0, -15), x_dir=(-1, 0, 0), z_dir=(0, 0, -1))):
        with Locations((-52.737869716, 10.749052425)):
            Circle(SKETCH14_R)
    extrude(amount=BOSS_EXTRUDE8_DEPTH)


solid = part.part
